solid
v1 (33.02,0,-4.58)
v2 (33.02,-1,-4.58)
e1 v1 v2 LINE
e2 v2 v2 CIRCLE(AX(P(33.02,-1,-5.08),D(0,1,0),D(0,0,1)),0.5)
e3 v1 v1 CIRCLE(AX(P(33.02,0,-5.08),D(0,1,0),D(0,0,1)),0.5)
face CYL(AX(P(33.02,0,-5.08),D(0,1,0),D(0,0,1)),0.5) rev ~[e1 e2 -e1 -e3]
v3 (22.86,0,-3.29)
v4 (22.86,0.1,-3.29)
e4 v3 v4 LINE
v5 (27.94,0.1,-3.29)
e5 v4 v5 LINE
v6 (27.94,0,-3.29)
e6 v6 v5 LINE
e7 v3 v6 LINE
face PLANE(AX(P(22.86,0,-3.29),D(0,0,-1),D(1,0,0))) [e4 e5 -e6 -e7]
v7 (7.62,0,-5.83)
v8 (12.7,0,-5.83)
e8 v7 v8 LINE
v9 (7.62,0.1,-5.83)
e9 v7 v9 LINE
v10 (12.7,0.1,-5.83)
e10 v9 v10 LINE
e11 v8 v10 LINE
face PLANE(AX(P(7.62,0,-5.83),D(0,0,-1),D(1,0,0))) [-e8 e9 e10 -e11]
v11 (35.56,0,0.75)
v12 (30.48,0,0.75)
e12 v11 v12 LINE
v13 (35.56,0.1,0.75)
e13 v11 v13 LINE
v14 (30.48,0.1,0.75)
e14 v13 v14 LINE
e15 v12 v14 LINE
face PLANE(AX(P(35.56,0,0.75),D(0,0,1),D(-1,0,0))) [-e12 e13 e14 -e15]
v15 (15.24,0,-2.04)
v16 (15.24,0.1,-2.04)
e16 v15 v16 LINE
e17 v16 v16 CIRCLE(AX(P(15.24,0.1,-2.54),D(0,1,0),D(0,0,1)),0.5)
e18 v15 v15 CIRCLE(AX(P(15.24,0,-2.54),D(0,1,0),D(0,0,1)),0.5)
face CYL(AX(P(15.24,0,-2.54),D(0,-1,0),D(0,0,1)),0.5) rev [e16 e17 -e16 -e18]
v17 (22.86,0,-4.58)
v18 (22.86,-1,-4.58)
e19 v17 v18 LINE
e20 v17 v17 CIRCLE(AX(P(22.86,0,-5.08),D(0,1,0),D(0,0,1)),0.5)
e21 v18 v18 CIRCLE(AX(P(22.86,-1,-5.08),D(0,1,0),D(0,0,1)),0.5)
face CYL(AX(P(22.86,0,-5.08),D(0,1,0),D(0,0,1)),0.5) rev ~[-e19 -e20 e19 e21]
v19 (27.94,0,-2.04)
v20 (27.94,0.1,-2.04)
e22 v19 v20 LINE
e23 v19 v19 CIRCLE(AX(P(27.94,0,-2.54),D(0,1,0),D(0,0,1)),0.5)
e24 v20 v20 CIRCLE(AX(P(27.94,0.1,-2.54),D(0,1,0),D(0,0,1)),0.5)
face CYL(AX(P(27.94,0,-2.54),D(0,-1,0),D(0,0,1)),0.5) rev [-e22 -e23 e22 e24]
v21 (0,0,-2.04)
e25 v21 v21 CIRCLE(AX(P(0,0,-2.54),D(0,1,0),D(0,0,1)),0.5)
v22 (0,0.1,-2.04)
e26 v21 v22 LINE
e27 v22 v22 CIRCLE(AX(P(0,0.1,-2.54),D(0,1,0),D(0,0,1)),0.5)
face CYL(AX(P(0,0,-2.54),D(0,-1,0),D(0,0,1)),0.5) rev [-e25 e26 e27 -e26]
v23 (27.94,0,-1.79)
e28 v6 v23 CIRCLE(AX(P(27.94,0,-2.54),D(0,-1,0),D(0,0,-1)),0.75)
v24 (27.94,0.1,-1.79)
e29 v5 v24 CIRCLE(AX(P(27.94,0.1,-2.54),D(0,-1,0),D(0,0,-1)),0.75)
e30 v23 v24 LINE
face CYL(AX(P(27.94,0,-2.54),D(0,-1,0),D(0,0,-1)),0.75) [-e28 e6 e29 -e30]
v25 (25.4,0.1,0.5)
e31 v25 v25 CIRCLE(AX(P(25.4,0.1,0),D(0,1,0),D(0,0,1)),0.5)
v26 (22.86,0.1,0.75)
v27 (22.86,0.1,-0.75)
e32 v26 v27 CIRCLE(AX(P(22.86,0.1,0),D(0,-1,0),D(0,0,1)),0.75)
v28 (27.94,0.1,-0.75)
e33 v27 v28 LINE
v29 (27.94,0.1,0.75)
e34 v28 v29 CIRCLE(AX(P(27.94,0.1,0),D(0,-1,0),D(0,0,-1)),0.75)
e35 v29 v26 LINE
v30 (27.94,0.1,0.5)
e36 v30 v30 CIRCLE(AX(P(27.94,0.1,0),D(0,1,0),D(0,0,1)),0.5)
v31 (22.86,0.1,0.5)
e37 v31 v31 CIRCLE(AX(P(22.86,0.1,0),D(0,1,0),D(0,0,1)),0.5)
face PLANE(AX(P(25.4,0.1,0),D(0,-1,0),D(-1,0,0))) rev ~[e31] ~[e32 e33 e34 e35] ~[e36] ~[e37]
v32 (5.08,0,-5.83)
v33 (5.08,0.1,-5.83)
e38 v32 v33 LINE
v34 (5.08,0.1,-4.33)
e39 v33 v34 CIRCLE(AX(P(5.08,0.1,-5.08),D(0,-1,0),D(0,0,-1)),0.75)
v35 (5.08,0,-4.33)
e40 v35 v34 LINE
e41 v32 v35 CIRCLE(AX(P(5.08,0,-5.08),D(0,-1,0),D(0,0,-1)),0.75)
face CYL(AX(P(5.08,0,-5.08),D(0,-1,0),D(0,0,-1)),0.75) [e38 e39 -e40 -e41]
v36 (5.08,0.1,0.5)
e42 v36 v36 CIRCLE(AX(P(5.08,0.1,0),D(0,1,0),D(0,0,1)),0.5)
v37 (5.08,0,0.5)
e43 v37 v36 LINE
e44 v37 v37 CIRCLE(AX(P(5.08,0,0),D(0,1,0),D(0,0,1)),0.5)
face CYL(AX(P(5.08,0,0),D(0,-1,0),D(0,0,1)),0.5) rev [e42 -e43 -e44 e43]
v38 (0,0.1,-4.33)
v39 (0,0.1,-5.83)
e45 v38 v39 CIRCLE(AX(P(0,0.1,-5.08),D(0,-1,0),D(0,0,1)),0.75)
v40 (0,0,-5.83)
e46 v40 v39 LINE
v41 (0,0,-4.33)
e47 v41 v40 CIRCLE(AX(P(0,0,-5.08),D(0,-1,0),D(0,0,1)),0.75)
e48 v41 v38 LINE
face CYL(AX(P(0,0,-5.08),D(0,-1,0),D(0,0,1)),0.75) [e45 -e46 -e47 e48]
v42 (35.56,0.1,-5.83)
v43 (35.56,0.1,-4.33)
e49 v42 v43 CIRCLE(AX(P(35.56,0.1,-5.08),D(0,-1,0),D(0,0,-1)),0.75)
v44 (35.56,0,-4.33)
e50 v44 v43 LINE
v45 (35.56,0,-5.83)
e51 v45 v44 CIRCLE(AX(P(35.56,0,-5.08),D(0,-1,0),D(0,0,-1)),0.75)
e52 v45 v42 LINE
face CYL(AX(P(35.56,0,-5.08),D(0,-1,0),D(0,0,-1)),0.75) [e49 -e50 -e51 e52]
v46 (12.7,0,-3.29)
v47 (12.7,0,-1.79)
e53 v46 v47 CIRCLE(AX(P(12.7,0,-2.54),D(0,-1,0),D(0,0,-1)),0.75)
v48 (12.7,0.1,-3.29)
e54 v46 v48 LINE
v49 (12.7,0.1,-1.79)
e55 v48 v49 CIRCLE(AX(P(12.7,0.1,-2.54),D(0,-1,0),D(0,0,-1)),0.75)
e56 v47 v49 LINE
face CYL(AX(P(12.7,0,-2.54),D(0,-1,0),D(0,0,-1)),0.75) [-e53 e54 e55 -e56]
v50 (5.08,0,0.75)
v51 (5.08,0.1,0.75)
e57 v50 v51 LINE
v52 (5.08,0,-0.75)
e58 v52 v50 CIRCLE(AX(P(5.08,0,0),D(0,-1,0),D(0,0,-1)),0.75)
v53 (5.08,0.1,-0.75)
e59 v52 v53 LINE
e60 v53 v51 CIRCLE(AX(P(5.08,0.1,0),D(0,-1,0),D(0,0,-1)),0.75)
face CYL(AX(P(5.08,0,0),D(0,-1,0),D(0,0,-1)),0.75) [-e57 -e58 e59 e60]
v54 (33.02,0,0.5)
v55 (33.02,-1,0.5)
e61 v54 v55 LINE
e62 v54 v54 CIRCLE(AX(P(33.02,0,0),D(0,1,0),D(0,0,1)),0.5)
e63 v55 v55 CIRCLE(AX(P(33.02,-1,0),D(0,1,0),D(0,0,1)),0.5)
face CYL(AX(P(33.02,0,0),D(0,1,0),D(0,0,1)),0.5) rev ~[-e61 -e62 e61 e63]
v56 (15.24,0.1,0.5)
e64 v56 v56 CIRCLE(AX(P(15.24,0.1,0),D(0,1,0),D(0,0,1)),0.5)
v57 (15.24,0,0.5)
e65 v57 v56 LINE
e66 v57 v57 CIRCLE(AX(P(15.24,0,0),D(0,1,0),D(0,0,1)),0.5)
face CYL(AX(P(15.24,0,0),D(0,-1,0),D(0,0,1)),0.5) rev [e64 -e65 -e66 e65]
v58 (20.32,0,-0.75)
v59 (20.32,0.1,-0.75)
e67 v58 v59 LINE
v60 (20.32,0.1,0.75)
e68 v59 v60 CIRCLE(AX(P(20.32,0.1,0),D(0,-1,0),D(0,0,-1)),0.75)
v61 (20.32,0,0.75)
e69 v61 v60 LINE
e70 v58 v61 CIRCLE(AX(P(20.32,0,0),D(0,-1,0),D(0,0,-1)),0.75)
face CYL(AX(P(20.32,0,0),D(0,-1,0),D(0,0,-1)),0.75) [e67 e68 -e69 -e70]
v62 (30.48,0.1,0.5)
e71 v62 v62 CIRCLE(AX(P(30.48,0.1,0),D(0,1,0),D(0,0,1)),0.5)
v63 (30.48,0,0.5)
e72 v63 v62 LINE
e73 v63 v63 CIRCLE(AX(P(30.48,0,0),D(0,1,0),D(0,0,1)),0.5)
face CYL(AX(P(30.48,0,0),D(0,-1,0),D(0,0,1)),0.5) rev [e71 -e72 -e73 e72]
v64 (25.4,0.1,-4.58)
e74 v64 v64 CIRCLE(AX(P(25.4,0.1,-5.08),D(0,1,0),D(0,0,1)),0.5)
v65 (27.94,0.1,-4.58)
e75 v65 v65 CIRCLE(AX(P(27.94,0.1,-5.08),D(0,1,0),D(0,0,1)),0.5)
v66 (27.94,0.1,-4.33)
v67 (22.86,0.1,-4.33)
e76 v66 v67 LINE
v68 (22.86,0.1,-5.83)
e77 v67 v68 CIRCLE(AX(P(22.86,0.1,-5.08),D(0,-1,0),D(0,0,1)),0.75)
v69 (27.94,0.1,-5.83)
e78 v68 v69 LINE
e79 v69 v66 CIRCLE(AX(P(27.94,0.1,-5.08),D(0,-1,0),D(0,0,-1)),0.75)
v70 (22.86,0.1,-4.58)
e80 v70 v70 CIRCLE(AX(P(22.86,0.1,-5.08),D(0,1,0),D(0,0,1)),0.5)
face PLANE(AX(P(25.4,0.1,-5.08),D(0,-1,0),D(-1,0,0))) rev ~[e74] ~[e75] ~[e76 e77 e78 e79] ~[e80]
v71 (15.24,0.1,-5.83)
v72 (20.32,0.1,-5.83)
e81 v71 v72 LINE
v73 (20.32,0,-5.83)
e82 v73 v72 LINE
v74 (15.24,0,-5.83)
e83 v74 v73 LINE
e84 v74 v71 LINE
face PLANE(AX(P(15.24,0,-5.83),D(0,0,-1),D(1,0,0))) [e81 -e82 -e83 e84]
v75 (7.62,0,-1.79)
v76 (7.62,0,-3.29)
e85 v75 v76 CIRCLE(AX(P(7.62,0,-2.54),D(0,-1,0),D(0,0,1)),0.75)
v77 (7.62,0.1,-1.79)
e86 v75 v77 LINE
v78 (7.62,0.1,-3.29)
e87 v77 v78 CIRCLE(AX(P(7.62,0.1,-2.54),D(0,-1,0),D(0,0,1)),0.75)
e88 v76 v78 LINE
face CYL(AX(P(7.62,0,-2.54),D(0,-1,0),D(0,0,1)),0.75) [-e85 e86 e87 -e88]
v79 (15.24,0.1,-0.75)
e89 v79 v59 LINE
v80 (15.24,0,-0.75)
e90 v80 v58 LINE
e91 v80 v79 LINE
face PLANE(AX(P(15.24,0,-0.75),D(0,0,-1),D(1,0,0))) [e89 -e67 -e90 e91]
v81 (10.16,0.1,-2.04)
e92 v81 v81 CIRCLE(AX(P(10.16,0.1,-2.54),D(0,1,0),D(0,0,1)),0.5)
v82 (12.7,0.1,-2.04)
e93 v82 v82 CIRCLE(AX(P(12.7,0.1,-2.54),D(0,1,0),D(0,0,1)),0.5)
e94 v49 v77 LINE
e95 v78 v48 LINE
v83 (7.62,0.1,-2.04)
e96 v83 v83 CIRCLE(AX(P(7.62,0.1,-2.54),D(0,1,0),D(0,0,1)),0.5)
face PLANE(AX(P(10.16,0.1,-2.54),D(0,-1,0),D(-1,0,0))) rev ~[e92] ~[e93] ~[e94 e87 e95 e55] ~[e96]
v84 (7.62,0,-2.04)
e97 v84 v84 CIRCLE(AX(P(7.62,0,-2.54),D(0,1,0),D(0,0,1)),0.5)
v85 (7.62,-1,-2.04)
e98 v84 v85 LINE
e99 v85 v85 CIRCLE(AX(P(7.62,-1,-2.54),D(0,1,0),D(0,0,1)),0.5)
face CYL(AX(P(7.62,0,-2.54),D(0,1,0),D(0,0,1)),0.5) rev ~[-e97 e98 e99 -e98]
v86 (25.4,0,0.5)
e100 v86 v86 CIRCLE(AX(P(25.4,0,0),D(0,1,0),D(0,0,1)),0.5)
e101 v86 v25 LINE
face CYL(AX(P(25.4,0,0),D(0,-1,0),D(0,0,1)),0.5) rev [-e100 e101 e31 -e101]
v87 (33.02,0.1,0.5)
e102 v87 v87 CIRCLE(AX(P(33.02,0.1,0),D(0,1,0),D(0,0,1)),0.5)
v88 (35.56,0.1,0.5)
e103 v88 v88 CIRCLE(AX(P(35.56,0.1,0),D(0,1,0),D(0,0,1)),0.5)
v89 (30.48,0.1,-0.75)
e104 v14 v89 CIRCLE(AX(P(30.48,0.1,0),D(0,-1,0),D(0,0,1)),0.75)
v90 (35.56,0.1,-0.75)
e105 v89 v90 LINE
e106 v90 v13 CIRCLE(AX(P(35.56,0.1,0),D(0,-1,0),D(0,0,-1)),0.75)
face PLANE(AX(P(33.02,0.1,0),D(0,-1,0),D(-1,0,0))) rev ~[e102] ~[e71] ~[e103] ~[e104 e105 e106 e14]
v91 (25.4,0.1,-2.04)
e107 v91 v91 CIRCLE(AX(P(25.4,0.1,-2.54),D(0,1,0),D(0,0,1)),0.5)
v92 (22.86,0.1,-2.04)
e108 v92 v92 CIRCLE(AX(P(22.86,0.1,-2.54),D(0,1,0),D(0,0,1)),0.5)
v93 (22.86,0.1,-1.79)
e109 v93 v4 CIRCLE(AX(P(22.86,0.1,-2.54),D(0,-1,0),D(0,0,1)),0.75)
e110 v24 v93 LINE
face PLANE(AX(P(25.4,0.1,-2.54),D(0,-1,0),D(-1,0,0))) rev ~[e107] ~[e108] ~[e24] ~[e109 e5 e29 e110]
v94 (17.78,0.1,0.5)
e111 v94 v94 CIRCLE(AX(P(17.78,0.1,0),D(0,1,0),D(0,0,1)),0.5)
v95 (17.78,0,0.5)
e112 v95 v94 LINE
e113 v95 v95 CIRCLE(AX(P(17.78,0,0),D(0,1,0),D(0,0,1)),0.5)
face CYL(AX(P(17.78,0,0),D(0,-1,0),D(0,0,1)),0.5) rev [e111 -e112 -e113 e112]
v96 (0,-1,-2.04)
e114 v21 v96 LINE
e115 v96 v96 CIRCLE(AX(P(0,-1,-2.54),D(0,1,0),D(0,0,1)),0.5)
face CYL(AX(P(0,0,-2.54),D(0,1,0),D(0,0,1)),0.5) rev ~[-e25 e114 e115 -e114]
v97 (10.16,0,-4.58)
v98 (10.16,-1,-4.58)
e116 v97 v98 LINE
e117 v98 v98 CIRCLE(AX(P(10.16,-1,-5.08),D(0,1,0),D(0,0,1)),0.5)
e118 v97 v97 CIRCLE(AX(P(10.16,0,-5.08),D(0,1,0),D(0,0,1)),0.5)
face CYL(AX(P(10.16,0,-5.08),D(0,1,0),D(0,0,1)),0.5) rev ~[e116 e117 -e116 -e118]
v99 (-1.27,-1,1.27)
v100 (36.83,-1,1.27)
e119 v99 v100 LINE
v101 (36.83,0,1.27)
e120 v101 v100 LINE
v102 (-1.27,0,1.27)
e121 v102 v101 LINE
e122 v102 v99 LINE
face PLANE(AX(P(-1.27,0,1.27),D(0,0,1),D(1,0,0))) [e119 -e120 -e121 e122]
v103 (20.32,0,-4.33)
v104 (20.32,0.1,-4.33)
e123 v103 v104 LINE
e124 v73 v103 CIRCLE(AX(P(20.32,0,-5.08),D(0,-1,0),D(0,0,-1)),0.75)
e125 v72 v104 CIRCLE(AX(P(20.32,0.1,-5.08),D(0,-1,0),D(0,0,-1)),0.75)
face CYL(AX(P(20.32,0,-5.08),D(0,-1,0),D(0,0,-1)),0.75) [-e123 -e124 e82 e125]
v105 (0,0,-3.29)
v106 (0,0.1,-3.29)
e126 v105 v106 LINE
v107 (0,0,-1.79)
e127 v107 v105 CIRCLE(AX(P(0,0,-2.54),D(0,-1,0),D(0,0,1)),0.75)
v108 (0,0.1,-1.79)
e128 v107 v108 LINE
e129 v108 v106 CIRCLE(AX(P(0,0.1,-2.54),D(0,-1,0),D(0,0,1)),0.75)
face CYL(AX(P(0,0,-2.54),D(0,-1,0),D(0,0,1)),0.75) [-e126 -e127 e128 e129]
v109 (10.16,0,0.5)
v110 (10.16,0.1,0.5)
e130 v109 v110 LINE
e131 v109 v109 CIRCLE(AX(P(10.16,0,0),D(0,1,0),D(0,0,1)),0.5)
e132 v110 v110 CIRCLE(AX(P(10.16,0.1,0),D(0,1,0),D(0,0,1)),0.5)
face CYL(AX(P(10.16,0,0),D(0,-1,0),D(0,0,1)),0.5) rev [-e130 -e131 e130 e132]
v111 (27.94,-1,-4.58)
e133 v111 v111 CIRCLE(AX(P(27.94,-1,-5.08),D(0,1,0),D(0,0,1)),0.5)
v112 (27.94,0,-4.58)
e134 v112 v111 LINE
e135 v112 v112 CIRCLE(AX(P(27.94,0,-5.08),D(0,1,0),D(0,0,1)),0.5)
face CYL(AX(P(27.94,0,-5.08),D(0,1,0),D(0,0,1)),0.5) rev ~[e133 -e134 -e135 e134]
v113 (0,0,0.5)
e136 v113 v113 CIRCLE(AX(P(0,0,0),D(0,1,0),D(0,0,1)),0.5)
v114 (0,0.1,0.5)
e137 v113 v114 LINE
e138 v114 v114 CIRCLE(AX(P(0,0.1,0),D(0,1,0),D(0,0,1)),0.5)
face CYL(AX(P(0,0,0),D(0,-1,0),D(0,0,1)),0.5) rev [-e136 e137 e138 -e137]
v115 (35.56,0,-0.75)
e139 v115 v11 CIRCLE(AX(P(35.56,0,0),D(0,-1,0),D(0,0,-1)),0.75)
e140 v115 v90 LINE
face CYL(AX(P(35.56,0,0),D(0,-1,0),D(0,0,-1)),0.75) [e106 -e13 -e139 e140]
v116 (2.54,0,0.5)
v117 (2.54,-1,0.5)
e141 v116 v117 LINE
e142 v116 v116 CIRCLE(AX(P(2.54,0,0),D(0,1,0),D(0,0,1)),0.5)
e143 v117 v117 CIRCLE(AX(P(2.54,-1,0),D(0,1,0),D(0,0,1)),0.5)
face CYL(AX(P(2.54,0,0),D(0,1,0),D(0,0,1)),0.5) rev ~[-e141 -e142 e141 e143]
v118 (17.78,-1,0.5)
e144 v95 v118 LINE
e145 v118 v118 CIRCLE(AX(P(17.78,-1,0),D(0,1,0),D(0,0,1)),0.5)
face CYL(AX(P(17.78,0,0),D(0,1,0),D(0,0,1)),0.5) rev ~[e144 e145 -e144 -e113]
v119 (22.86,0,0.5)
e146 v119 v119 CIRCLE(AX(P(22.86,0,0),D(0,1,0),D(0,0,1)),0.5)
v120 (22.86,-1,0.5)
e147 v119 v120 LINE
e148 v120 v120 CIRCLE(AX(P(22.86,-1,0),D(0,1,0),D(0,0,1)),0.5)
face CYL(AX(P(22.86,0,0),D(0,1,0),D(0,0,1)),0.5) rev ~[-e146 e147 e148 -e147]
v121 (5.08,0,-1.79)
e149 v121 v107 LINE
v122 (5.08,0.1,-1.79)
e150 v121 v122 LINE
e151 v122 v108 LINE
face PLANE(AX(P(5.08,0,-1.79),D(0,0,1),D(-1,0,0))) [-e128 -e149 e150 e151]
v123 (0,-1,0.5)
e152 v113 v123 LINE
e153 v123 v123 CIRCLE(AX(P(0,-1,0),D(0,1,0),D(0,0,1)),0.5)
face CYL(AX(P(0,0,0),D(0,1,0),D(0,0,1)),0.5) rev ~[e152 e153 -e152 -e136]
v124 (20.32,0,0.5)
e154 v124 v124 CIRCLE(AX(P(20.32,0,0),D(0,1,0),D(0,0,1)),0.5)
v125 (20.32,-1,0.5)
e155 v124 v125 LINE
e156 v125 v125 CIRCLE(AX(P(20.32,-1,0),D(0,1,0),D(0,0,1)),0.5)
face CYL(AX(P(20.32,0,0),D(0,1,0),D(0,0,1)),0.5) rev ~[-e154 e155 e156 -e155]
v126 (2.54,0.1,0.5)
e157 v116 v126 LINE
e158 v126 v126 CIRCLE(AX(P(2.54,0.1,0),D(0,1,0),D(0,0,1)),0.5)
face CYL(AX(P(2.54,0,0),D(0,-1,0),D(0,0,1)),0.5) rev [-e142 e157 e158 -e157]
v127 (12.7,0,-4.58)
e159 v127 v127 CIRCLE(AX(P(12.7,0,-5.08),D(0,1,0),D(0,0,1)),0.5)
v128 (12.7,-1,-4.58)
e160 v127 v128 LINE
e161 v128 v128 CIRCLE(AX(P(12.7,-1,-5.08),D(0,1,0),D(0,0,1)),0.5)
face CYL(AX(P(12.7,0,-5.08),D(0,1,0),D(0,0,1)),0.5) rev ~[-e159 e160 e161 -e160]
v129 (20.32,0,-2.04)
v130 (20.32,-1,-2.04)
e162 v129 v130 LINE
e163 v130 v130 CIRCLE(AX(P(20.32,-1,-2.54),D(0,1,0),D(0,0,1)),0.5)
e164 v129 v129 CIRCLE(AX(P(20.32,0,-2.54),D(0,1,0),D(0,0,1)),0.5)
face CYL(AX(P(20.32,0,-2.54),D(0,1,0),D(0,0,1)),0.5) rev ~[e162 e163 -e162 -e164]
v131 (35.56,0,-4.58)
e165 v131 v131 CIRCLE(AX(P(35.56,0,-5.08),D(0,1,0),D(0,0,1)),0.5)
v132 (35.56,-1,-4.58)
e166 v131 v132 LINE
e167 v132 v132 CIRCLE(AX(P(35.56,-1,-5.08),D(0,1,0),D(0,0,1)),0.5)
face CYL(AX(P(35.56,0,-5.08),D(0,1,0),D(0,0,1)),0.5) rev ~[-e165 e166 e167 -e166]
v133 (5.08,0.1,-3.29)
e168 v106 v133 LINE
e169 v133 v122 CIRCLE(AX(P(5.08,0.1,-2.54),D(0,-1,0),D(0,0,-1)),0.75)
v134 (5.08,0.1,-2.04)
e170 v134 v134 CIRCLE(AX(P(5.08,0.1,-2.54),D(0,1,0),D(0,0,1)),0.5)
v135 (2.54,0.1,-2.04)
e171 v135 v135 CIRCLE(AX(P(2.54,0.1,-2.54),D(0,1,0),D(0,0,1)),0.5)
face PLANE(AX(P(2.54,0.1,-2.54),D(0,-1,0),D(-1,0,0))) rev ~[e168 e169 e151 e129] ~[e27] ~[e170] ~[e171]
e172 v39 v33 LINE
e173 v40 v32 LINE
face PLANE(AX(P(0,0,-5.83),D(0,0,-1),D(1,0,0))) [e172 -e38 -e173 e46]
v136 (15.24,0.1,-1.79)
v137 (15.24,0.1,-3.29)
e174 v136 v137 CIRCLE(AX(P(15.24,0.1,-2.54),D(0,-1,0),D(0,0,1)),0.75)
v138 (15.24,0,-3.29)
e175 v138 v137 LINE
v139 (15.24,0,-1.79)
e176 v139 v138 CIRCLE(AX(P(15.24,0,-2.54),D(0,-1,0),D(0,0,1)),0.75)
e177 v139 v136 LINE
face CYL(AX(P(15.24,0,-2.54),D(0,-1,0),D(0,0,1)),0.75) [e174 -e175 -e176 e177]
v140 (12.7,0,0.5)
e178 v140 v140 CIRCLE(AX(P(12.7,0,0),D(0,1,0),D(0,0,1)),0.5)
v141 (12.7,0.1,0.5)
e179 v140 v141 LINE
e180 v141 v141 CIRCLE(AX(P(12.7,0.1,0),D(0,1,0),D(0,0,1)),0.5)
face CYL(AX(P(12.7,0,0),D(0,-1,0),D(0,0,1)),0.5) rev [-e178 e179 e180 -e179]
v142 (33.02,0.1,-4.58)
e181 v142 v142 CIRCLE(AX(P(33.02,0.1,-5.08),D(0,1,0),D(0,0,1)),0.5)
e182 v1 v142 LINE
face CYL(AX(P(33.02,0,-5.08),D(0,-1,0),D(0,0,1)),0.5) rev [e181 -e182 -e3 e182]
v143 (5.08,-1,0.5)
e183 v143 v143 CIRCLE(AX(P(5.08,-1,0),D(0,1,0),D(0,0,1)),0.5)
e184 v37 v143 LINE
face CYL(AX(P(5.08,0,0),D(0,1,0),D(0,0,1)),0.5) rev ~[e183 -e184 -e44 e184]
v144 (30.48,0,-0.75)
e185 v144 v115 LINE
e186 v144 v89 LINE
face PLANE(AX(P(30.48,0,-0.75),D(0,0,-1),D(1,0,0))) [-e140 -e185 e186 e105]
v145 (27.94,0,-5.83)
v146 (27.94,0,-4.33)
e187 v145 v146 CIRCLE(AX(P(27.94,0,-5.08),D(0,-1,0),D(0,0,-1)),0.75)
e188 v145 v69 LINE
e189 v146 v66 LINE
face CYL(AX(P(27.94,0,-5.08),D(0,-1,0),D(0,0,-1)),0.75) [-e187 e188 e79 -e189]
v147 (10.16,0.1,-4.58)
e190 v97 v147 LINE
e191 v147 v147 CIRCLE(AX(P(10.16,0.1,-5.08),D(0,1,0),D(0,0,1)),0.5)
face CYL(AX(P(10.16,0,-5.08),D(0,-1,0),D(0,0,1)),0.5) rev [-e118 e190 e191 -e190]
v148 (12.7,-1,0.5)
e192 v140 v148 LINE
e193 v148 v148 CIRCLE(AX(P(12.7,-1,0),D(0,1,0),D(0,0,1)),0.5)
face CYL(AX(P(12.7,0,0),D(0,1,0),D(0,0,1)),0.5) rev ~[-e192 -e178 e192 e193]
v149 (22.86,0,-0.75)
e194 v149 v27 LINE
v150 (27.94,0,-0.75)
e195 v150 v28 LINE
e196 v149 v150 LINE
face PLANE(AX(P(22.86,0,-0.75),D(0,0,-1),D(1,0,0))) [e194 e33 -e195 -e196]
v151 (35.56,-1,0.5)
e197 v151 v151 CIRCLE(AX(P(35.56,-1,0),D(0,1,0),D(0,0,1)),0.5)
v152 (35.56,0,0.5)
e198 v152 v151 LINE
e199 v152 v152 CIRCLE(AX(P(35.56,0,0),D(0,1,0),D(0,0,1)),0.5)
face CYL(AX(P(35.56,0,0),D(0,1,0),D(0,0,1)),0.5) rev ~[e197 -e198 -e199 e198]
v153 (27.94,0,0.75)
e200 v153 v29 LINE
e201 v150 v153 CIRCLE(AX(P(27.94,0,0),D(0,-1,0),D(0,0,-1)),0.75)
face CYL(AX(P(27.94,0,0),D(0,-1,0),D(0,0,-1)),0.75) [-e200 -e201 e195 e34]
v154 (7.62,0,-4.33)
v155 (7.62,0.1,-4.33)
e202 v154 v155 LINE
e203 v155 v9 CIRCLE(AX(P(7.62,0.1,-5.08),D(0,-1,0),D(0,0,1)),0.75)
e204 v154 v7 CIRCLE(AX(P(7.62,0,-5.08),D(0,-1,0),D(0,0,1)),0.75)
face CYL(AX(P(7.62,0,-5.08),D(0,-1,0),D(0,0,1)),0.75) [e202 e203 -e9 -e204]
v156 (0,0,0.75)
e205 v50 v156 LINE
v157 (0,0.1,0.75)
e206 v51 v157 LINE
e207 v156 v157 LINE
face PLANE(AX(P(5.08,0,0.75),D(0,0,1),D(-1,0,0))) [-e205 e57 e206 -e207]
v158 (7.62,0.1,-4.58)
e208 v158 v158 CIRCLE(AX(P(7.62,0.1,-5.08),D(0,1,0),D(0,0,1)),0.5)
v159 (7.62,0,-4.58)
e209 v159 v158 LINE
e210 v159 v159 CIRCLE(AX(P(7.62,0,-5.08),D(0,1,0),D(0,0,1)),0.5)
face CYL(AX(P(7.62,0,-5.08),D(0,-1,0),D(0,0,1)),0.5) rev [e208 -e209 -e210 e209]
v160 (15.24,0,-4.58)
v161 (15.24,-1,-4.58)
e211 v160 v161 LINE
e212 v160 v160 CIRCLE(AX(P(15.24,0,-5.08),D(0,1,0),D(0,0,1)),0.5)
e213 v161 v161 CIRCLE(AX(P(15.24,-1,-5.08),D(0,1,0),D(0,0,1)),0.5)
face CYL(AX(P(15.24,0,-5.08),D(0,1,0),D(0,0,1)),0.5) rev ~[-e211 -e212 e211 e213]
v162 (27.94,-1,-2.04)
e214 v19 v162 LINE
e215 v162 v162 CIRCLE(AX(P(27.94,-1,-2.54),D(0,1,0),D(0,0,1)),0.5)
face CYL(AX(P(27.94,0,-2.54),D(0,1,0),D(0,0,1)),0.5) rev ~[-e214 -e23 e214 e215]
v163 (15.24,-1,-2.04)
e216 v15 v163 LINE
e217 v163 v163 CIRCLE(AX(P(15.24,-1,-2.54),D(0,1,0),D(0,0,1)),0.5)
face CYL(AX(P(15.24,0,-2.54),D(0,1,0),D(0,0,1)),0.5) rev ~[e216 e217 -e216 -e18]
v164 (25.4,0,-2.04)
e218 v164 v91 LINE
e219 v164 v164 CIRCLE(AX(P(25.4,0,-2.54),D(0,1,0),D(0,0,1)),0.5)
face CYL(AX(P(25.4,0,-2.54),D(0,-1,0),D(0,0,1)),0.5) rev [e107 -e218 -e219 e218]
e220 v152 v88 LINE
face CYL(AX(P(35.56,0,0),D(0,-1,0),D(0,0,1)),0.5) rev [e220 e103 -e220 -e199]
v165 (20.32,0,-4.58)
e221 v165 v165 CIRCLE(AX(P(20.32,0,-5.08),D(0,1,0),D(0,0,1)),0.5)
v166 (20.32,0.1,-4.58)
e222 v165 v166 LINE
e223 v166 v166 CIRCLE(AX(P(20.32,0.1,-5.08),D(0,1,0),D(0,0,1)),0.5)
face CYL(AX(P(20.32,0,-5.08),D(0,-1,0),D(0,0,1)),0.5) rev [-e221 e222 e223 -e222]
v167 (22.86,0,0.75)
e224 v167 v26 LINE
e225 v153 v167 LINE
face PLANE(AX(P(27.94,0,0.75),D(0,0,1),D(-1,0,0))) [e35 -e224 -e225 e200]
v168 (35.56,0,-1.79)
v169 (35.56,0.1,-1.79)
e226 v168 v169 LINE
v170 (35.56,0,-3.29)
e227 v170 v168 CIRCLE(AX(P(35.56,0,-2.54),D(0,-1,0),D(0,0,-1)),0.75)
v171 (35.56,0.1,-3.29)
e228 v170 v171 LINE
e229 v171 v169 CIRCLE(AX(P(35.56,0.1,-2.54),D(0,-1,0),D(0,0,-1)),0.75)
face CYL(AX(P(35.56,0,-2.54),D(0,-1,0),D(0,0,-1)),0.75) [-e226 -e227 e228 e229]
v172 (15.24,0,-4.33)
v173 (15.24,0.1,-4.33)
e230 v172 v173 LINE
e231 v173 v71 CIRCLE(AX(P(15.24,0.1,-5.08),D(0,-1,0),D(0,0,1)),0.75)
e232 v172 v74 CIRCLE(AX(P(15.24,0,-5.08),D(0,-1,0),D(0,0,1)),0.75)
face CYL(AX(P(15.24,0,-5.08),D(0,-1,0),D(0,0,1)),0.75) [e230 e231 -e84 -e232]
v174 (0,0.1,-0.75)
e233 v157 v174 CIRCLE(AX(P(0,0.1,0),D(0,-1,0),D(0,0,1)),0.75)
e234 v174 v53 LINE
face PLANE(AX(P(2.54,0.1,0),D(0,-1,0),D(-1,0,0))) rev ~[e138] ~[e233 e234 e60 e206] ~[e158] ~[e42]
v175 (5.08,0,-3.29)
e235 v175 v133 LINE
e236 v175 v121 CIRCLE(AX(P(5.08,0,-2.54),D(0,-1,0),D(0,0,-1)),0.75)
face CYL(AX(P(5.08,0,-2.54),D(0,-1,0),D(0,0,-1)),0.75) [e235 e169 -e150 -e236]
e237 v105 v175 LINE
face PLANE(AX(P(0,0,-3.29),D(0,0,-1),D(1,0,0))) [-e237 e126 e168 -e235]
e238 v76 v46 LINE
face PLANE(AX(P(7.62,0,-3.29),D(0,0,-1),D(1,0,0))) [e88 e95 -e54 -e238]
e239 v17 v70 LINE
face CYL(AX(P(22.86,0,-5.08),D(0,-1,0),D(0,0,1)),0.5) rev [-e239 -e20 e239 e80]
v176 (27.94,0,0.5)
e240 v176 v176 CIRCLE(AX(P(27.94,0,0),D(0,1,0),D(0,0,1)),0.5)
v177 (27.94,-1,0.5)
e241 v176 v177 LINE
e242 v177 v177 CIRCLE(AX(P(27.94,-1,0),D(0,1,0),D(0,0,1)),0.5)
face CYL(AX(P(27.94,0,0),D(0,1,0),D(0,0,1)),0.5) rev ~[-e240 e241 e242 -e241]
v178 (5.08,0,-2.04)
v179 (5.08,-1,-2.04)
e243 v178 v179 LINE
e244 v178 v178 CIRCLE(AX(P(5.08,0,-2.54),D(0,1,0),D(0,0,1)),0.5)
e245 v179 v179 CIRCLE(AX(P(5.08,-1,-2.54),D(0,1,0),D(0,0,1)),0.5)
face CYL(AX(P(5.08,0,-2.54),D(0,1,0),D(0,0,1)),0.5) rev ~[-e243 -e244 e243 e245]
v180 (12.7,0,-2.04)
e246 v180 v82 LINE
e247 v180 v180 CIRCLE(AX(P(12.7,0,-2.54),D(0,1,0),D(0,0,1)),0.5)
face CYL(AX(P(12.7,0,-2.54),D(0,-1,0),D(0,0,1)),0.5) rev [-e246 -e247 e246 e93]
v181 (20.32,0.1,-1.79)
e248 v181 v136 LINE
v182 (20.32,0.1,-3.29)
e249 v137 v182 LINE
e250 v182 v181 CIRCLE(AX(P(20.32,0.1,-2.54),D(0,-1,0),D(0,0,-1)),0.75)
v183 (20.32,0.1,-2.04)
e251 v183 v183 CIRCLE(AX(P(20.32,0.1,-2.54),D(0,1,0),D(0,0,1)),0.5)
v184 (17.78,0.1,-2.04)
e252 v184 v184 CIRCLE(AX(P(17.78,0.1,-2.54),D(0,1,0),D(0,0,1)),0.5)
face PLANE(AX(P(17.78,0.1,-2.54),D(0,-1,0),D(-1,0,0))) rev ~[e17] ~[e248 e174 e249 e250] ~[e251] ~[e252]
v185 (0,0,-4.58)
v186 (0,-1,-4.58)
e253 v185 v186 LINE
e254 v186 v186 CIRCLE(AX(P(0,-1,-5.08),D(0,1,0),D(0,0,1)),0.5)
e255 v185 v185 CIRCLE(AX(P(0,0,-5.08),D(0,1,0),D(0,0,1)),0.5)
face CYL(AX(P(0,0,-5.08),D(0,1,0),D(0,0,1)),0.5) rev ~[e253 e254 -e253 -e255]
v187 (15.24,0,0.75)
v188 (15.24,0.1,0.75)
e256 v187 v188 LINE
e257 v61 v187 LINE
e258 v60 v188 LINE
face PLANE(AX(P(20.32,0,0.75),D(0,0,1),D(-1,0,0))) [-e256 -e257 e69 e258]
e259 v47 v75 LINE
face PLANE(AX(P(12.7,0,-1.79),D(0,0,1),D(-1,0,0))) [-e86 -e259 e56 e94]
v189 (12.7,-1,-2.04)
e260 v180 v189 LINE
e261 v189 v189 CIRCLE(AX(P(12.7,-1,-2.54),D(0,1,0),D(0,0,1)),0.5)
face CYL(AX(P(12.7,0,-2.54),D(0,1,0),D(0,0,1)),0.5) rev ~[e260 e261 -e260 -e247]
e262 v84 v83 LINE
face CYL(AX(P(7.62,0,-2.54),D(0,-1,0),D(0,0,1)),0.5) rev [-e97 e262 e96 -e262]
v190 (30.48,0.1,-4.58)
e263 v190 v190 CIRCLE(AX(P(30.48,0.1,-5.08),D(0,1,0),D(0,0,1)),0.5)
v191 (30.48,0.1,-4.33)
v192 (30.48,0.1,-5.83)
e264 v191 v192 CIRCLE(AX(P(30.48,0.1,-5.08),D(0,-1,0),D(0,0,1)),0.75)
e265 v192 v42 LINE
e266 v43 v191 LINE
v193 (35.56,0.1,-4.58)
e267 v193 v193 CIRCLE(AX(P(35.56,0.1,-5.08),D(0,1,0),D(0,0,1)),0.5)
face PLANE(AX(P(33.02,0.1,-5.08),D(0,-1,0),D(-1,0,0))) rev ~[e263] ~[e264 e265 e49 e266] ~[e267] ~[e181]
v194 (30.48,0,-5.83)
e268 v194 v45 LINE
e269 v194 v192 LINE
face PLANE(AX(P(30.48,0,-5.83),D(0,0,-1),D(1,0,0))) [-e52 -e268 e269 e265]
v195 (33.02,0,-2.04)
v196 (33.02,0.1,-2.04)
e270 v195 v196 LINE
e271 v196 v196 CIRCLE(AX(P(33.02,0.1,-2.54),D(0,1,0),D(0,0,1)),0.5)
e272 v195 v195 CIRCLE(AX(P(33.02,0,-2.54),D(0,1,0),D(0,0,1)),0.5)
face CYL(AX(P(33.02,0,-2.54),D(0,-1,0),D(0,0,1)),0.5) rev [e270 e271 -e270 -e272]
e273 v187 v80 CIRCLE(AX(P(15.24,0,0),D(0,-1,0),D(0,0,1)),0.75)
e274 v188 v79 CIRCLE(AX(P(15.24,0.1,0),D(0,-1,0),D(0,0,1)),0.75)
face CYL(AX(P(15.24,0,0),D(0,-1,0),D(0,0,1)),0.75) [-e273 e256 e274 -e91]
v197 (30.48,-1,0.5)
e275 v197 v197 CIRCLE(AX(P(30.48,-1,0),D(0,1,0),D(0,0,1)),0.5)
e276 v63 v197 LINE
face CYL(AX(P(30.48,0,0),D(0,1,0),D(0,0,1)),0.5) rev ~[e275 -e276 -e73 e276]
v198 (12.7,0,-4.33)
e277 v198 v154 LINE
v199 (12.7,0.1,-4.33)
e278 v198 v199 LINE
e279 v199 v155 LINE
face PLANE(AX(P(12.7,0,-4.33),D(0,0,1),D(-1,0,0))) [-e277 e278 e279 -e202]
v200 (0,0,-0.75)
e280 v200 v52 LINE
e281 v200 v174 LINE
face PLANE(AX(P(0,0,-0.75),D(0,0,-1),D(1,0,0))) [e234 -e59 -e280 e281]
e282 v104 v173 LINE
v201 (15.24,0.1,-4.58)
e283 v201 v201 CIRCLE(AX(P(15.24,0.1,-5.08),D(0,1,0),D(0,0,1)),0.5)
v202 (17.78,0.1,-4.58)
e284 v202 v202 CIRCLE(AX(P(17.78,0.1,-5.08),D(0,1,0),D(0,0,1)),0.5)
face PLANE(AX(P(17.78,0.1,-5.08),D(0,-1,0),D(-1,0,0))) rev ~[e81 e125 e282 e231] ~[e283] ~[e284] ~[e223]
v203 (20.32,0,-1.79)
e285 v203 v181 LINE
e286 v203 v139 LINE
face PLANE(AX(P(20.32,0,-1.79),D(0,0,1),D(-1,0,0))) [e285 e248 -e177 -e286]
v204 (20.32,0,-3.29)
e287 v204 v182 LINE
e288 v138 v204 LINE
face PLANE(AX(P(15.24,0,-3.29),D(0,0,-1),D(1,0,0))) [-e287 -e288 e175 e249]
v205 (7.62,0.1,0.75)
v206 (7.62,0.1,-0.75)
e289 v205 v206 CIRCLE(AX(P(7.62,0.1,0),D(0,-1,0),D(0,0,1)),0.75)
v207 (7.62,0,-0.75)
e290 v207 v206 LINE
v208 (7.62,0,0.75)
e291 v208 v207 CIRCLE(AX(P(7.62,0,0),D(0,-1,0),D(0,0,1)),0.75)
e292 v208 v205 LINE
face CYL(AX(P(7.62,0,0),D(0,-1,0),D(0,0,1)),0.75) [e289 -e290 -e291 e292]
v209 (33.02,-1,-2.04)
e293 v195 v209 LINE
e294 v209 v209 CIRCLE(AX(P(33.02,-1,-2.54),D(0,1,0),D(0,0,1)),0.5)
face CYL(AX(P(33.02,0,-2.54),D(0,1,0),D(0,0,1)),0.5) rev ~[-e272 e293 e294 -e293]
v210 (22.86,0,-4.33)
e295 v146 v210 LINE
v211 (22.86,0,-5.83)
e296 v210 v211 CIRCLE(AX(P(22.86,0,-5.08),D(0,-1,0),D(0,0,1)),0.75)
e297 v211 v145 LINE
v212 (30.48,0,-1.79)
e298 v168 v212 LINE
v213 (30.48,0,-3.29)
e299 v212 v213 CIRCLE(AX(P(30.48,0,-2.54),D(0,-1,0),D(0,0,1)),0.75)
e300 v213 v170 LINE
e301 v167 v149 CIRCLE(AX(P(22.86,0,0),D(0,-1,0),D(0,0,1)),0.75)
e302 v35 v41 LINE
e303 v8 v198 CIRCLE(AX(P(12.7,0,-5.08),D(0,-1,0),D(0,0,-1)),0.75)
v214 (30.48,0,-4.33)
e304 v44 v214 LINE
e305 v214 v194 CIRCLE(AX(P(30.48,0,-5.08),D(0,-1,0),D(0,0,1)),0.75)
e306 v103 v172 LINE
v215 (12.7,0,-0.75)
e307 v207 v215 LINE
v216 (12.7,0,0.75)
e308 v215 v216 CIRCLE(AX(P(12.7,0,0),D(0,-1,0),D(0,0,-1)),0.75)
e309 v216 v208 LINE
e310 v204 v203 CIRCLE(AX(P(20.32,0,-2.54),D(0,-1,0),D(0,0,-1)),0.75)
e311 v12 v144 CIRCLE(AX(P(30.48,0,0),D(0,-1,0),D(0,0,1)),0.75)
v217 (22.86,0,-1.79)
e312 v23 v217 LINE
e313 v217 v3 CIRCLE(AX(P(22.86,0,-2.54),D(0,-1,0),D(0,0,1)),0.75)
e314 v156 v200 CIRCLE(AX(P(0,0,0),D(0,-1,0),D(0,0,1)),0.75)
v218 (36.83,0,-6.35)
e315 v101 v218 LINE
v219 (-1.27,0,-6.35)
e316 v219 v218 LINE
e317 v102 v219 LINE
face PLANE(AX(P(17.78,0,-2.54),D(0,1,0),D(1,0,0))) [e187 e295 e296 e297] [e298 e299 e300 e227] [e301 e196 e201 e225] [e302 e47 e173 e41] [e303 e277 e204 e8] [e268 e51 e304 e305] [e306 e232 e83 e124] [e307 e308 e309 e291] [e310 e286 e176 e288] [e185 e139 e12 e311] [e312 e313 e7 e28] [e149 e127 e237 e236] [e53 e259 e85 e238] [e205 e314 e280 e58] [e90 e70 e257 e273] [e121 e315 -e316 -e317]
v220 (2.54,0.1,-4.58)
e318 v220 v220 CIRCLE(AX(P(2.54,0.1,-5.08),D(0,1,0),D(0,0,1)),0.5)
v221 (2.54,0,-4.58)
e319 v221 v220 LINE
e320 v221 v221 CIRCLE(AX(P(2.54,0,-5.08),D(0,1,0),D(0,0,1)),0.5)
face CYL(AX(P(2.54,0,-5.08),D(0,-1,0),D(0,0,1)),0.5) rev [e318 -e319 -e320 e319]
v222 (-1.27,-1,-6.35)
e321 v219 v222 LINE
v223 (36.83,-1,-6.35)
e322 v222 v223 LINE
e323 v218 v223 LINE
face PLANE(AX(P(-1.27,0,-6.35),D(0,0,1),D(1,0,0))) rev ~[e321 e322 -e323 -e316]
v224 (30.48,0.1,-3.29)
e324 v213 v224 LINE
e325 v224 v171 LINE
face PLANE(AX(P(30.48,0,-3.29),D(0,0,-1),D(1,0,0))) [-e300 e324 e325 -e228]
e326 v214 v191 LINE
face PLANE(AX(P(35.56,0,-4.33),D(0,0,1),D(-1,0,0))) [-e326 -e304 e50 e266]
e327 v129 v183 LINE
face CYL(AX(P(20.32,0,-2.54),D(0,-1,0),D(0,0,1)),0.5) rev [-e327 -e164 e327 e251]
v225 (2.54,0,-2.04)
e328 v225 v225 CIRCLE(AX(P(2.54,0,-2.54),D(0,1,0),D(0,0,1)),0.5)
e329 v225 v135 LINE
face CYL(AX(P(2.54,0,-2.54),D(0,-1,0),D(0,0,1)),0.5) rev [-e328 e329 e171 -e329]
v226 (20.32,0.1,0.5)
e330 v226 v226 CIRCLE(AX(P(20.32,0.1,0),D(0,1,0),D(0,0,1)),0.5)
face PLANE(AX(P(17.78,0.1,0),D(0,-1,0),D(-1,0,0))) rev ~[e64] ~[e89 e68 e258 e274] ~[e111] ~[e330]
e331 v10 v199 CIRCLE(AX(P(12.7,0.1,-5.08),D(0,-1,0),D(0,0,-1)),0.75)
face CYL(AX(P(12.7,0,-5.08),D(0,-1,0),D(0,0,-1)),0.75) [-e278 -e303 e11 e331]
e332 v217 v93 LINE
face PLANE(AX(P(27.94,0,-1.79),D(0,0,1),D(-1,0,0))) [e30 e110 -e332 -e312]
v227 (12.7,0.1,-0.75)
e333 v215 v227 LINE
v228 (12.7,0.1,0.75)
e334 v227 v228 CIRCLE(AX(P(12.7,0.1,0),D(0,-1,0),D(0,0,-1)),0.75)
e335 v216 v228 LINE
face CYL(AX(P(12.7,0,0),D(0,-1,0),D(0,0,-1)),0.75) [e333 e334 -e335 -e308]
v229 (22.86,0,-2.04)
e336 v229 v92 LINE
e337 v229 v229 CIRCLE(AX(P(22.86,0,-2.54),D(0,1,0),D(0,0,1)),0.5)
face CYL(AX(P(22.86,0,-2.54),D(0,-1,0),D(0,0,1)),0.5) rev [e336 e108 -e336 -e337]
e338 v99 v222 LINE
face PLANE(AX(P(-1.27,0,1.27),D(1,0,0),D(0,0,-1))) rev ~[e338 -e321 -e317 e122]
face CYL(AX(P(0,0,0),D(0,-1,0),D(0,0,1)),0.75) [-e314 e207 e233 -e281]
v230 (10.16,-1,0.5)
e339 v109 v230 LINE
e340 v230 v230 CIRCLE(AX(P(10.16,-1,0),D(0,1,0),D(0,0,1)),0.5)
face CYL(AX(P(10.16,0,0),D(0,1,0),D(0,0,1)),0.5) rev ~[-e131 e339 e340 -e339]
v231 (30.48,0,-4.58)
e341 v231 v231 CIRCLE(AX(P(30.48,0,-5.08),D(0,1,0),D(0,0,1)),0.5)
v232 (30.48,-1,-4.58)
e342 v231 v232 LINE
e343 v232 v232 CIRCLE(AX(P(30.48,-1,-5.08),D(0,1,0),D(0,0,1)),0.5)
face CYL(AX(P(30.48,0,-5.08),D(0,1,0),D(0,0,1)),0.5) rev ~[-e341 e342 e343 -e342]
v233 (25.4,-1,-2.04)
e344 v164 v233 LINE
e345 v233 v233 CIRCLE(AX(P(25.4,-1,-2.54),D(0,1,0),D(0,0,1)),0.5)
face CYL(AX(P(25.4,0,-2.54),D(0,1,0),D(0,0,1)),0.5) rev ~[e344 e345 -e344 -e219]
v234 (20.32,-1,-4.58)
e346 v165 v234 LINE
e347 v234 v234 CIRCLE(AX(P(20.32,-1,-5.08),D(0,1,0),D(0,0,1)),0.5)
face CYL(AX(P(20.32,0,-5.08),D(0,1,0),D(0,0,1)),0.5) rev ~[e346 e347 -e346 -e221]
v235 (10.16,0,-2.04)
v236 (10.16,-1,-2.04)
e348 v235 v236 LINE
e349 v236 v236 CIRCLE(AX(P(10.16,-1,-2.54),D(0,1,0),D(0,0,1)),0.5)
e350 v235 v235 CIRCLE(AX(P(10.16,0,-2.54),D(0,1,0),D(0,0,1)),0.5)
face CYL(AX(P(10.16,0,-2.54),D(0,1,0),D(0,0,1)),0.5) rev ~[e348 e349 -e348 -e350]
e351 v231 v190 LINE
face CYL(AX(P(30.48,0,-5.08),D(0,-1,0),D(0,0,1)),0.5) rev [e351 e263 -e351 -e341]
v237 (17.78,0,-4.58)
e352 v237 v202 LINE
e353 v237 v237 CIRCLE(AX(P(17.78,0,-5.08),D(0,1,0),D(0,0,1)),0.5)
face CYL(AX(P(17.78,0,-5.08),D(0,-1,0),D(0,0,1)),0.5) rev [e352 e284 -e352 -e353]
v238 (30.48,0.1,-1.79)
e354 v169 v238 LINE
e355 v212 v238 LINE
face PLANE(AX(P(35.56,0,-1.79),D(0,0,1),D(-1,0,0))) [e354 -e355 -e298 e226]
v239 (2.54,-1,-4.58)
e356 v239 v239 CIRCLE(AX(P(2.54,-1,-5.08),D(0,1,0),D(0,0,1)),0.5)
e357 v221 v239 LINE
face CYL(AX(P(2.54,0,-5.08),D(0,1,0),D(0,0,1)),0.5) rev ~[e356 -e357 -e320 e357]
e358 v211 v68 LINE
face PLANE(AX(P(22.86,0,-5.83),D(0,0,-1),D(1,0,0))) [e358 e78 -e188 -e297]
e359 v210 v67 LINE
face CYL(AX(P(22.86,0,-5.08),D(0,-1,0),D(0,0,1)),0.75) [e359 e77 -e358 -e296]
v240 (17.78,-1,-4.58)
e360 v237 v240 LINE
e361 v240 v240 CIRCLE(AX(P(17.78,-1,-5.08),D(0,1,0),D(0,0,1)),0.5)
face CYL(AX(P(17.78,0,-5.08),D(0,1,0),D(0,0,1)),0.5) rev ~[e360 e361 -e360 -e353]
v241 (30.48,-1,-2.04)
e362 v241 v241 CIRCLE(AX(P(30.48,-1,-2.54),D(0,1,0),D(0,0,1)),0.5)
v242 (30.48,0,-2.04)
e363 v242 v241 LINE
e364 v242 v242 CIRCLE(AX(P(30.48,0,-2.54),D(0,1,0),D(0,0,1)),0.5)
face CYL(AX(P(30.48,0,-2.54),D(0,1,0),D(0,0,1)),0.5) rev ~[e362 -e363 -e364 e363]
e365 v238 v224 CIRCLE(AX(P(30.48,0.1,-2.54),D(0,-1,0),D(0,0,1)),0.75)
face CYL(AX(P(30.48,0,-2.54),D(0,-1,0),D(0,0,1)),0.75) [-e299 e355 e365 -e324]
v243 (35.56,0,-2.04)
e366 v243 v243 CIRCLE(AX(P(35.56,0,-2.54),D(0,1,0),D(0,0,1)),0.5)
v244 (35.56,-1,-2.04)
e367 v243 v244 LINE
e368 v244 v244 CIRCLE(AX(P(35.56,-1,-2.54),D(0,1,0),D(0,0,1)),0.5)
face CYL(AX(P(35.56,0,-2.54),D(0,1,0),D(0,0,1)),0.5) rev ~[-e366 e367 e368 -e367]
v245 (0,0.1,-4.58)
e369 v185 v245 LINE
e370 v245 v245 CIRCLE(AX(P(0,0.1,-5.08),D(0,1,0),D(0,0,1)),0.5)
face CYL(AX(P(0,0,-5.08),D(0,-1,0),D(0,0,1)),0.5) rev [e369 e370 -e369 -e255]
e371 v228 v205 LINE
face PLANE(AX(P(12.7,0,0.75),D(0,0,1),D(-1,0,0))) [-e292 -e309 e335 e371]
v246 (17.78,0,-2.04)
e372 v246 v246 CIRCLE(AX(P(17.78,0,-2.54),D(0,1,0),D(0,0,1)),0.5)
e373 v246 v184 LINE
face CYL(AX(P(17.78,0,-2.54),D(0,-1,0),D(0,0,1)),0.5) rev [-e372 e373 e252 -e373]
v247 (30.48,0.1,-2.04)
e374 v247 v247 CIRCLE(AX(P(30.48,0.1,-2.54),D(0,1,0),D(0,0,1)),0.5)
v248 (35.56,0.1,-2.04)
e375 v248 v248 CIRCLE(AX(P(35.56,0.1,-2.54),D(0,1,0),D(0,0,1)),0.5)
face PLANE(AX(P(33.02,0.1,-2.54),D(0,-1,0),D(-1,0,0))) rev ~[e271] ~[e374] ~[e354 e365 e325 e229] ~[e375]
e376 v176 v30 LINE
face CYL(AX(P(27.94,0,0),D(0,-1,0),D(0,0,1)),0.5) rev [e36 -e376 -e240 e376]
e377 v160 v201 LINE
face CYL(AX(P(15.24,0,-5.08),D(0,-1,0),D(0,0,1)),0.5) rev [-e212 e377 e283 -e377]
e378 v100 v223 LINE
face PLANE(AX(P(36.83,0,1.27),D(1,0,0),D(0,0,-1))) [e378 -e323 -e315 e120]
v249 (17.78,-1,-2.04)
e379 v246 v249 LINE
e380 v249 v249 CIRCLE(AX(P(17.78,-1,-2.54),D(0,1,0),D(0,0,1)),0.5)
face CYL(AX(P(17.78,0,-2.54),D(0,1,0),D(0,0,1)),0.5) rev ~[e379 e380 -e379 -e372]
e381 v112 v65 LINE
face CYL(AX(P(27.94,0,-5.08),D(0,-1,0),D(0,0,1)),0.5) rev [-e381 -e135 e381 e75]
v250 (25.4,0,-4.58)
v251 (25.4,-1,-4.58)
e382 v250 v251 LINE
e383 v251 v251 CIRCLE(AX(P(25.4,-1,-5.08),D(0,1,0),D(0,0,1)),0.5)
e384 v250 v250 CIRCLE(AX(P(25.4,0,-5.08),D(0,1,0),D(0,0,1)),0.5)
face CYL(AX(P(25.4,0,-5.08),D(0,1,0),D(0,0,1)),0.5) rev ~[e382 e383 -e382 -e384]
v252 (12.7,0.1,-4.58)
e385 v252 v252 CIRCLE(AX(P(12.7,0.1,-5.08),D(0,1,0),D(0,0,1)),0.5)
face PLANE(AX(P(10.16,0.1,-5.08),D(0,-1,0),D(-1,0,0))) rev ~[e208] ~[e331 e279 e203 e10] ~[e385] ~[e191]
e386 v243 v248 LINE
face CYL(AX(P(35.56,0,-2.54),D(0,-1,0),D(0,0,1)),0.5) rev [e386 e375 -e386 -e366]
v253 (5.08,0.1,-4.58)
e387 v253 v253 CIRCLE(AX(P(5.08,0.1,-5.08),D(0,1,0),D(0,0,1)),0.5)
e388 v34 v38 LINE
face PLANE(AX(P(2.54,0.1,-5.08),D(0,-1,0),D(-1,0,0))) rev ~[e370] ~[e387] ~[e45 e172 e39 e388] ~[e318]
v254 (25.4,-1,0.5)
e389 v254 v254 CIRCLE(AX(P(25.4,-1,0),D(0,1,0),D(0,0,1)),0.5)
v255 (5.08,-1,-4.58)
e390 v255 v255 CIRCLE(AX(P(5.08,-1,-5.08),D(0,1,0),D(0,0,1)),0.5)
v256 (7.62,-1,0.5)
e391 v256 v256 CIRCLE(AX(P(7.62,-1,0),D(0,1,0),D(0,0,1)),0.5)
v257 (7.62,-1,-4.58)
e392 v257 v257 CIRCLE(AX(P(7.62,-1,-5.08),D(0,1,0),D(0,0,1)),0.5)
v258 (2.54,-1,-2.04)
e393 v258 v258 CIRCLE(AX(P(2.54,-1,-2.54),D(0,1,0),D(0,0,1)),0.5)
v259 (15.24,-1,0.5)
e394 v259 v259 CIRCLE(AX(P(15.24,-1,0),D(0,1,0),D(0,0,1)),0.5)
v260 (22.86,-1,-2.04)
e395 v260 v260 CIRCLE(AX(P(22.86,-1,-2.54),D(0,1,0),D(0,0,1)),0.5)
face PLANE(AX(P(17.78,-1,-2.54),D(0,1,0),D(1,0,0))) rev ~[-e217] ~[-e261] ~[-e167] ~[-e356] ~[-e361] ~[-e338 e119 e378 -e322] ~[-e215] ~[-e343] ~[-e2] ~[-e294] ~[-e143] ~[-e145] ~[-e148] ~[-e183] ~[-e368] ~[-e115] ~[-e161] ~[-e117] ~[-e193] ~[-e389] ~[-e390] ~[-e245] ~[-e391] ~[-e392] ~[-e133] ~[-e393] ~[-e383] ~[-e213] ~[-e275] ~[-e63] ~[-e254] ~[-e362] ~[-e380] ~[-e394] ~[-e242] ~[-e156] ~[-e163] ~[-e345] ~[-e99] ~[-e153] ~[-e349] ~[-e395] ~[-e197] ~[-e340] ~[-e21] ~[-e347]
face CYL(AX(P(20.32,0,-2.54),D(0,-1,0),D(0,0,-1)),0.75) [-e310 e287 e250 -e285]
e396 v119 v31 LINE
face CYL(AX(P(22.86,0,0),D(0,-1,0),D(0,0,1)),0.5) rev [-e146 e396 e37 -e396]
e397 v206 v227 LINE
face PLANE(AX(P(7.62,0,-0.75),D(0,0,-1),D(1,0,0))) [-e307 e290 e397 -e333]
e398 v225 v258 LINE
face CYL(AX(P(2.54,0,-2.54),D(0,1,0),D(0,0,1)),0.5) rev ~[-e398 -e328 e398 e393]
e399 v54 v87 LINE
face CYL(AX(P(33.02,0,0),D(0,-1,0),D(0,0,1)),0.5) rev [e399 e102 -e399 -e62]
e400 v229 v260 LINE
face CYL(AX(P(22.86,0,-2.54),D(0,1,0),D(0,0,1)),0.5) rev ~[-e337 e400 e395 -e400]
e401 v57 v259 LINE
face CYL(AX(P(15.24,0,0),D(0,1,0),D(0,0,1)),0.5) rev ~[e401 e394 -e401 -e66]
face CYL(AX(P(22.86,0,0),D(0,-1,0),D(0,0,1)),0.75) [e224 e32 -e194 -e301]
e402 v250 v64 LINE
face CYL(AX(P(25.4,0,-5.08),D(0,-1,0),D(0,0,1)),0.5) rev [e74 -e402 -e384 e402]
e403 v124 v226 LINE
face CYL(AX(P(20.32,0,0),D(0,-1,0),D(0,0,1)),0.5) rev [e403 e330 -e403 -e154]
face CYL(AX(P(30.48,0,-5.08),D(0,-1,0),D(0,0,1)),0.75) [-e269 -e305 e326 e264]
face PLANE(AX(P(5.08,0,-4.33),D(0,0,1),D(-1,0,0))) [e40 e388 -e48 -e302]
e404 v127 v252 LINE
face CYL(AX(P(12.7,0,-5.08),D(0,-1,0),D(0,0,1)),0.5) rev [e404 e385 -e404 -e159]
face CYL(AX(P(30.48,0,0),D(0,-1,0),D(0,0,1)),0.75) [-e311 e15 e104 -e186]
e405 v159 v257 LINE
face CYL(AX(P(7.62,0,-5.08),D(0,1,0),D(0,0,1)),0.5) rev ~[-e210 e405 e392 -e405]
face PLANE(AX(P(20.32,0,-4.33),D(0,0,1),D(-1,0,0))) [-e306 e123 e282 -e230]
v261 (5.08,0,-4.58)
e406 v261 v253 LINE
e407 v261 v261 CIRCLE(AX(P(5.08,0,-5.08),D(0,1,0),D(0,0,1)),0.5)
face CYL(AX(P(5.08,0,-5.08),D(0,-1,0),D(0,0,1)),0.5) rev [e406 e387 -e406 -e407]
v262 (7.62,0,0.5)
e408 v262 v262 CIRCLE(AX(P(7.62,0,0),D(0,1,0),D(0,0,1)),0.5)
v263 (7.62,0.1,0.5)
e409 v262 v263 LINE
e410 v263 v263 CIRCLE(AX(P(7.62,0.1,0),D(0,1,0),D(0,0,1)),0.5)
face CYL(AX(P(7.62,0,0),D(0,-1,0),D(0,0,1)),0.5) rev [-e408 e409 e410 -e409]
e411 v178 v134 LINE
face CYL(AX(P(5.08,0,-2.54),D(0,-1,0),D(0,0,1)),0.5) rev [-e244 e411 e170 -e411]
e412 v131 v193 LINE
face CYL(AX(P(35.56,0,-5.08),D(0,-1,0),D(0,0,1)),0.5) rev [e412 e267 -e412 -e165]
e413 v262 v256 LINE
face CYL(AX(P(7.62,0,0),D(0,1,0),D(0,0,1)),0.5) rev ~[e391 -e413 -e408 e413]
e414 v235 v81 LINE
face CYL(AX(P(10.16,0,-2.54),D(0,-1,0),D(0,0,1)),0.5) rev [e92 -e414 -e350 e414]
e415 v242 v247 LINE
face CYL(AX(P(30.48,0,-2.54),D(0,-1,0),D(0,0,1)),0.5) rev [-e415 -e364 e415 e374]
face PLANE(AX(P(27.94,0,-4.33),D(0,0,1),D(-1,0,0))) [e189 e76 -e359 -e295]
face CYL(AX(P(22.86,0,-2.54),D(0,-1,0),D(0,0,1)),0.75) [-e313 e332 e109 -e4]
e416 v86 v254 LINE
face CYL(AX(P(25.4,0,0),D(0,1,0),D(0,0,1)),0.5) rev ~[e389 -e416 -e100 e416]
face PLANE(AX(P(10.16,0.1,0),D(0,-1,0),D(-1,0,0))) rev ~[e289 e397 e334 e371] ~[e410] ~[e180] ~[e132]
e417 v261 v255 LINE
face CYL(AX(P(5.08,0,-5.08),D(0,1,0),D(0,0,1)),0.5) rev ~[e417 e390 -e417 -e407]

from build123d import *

# Parameters (mm, degrees)
SKETCH1_R            = 0.5
BOSS_EXTRUDE1_DEPTH  = 0.1
SKETCH2_W            = 38.1
SKETCH2_H            = 7.62
BOSS_EXTRUDE2_DEPTH  = 1
LPATTERN2_COUNT      = 5
LPATTERN2_PITCH      = 7.62
LPATTERN2_COUNT_DIR2 = 3
LPATTERN2_PITCH_DIR2 = 2.54
SKETCH3_R            = 0.5
CUT_EXTRUDE1_DEPTH   = 38.386781086


with BuildPart() as part:
    # Sketch1 → Boss-Extrude1 (new body)
    with BuildSketch(Plane(origin=(0, 0, 0), x_dir=(1, 0, 0), z_dir=(0, 1, 0))):
        with BuildLine():
            Line((0, 0.75), (5.08, 0.75))
            ThreePointArc((5.08, 0.75), (5.83, 0), (5.08, -0.75))
            Line((5.08, -0.75), (0, -0.75))
            ThreePointArc((0, -0.75), (-0.75, 0), (0, 0.75))
        make_face()
        with Locations(Location((0, 0, 0), (0, 0, 270))):
            Circle(SKETCH1_R, mode=Mode.SUBTRACT)
        with Locations(Location((2.54, 0, 0), (0, 0, 270))):
            Circle(SKETCH1_R, mode=Mode.SUBTRACT)
        with Locations(Location((5.08, 0, 0), (0, 0, 270))):
            Circle(SKETCH1_R, mode=Mode.SUBTRACT)
    boss_extrude1 = extrude(amount=BOSS_EXTRUDE1_DEPTH)

    # Sketch2 → Boss-Extrude2 (add)
    with BuildSketch(Plane(origin=(0, 0, 0), x_dir=(1, 0, 0), z_dir=(0, 1, 0))):
        with Locations((17.78, 2.54)):
            Rectangle(SKETCH2_W, SKETCH2_H)
    extrude(amount=-BOSS_EXTRUDE2_DEPTH)

    # LPattern2: Boss-Extrude1 5 × 3
    with Locations(*[(i * LPATTERN2_PITCH, 0, -j * LPATTERN2_PITCH_DIR2) for i in range(LPATTERN2_COUNT) for j in range(LPATTERN2_COUNT_DIR2) if (i, j) != (0, 0)]):
        add(boss_extrude1)

    # Sketch3 → Cut-Extrude1 (cut, through all)
    with BuildSketch(Plane(origin=(0, 0, 0), x_dir=(1, 0, 0), z_dir=(0, 1, 0))):
        with Locations(Location((0, 0, 0), (0, 0, 270))):
            Circle(SKETCH3_R)
        with Locations(Location((2.54, 0, 0), (0, 0, 270))):
            Circle(SKETCH3_R)
        with Locations(Location((5.08, 0, 0), (0, 0, 270))):
            Circle(SKETCH3_R)
        with Locations(Location((7.62, 0, 0), (0, 0, 270))):
            Circle(SKETCH3_R)
        with Locations(Location((10.16, 0, 0), (0, 0, 270))):
            Circle(SKETCH3_R)
        with Locations(Location((12.7, 0, 0), (0, 0, 270))):
            Circle(SKETCH3_R)
        with Locations(Location((15.24, 0, 0), (0, 0, 270))):
            Circle(SKETCH3_R)
        with Locations(Location((17.78, 0, 0), (0, 0, 270))):
            Circle(SKETCH3_R)
        with Locations(Location((20.32, 0, 0), (0, 0, 270))):
            Circle(SKETCH3_R)
        with Locations(Location((22.86, 0, 0), (0, 0, 270))):
            Circle(SKETCH3_R)
        with Locations(Location((25.4, 0, 0), (0, 0, 270))):
            Circle(SKETCH3_R)
        with Locations(Location((27.94, 0, 0), (0, 0, 270))):
            Circle(SKETCH3_R)
        with Locations(Location((30.48, 0, 0), (0, 0, 270))):
            Circle(SKETCH3_R)
        with Locations(Location((33.02, 0, 0), (0, 0, 270))):
            Circle(SKETCH3_R)
        with Locations(Location((35.56, 0, 0), (0, 0, 270))):
            Circle(SKETCH3_R)
        with Locations(Location((0, 2.54, 0), (0, 0, 270))):
            Circle(SKETCH3_R)
        with Locations(Location((2.54, 2.54, 0), (0, 0, 270))):
            Circle(SKETCH3_R)
        with Locations(Location((5.08, 2.54, 0), (0, 0, 270))):
            Circle(SKETCH3_R)
        with Locations(Location((7.62, 2.54, 0), (0, 0, 270))):
            Circle(SKETCH3_R)
        with Locations(Location((10.16, 2.54, 0), (0, 0, 270))):
            Circle(SKETCH3_R)
        with Locations(Location((12.7, 2.54, 0), (0, 0, 270))):
            Circle(SKETCH3_R)
        with Locations(Location((15.24, 2.54, 0), (0, 0, 270))):
            Circle(SKETCH3_R)
        with Locations(Location((17.78, 2.54, 0), (0, 0, 270))):
            Circle(SKETCH3_R)
        with Locations(Location((20.32, 2.54, 0), (0, 0, 270))):
            Circle(SKETCH3_R)
        with Locations(Location((22.86, 2.54, 0), (0, 0, 270))):
            Circle(SKETCH3_R)
        with Locations(Location((25.4, 2.54, 0), (0, 0, 270))):
            Circle(SKETCH3_R)
        with Locations(Location((27.94, 2.54, 0), (0, 0, 270))):
            Circle(SKETCH3_R)
        with Locations(Location((30.48, 2.54, 0), (0, 0, 270))):
            Circle(SKETCH3_R)
        with Locations(Location((33.02, 2.54, 0), (0, 0, 270))):
            Circle(SKETCH3_R)
        with Locations(Location((35.56, 2.54, 0), (0, 0, 270))):
            Circle(SKETCH3_R)
        with Locations(Location((0, 5.08, 0), (0, 0, 270))):
            Circle(SKETCH3_R)
        with Locations(Location((2.54, 5.08, 0), (0, 0, 270))):
            Circle(SKETCH3_R)
        with Locations(Location((5.08, 5.08, 0), (0, 0, 270))):
            Circle(SKETCH3_R)
        with Locations(Location((7.62, 5.08, 0), (0, 0, 270))):
            Circle(SKETCH3_R)
        with Locations(Location((10.16, 5.08, 0), (0, 0, 270))):
            Circle(SKETCH3_R)
        with Locations(Location((12.7, 5.08, 0), (0, 0, 270))):
            Circle(SKETCH3_R)
        with Locations(Location((15.24, 5.08, 0), (0, 0, 270))):
            Circle(SKETCH3_R)
        with Locations(Location((17.78, 5.08, 0), (0, 0, 270))):
            Circle(SKETCH3_R)
        with Locations(Location((20.32, 5.08, 0), (0, 0, 270))):
            Circle(SKETCH3_R)
        with Locations(Location((22.86, 5.08, 0), (0, 0, 270))):
            Circle(SKETCH3_R)
        with Locations(Location((25.4, 5.08, 0), (0, 0, 270))):
            Circle(SKETCH3_R)
        with Locations(Location((27.94, 5.08, 0), (0, 0, 270))):
            Circle(SKETCH3_R)
        with Locations(Location((30.48, 5.08, 0), (0, 0, 270))):
            Circle(SKETCH3_R)
        with Locations(Location((33.02, 5.08, 0), (0, 0, 270))):
            Circle(SKETCH3_R)
        with Locations(Location((35.56, 5.08, 0), (0, 0, 270))):
            Circle(SKETCH3_R)
    extrude(amount=-CUT_EXTRUDE1_DEPTH, mode=Mode.SUBTRACT)


solid = part.part
